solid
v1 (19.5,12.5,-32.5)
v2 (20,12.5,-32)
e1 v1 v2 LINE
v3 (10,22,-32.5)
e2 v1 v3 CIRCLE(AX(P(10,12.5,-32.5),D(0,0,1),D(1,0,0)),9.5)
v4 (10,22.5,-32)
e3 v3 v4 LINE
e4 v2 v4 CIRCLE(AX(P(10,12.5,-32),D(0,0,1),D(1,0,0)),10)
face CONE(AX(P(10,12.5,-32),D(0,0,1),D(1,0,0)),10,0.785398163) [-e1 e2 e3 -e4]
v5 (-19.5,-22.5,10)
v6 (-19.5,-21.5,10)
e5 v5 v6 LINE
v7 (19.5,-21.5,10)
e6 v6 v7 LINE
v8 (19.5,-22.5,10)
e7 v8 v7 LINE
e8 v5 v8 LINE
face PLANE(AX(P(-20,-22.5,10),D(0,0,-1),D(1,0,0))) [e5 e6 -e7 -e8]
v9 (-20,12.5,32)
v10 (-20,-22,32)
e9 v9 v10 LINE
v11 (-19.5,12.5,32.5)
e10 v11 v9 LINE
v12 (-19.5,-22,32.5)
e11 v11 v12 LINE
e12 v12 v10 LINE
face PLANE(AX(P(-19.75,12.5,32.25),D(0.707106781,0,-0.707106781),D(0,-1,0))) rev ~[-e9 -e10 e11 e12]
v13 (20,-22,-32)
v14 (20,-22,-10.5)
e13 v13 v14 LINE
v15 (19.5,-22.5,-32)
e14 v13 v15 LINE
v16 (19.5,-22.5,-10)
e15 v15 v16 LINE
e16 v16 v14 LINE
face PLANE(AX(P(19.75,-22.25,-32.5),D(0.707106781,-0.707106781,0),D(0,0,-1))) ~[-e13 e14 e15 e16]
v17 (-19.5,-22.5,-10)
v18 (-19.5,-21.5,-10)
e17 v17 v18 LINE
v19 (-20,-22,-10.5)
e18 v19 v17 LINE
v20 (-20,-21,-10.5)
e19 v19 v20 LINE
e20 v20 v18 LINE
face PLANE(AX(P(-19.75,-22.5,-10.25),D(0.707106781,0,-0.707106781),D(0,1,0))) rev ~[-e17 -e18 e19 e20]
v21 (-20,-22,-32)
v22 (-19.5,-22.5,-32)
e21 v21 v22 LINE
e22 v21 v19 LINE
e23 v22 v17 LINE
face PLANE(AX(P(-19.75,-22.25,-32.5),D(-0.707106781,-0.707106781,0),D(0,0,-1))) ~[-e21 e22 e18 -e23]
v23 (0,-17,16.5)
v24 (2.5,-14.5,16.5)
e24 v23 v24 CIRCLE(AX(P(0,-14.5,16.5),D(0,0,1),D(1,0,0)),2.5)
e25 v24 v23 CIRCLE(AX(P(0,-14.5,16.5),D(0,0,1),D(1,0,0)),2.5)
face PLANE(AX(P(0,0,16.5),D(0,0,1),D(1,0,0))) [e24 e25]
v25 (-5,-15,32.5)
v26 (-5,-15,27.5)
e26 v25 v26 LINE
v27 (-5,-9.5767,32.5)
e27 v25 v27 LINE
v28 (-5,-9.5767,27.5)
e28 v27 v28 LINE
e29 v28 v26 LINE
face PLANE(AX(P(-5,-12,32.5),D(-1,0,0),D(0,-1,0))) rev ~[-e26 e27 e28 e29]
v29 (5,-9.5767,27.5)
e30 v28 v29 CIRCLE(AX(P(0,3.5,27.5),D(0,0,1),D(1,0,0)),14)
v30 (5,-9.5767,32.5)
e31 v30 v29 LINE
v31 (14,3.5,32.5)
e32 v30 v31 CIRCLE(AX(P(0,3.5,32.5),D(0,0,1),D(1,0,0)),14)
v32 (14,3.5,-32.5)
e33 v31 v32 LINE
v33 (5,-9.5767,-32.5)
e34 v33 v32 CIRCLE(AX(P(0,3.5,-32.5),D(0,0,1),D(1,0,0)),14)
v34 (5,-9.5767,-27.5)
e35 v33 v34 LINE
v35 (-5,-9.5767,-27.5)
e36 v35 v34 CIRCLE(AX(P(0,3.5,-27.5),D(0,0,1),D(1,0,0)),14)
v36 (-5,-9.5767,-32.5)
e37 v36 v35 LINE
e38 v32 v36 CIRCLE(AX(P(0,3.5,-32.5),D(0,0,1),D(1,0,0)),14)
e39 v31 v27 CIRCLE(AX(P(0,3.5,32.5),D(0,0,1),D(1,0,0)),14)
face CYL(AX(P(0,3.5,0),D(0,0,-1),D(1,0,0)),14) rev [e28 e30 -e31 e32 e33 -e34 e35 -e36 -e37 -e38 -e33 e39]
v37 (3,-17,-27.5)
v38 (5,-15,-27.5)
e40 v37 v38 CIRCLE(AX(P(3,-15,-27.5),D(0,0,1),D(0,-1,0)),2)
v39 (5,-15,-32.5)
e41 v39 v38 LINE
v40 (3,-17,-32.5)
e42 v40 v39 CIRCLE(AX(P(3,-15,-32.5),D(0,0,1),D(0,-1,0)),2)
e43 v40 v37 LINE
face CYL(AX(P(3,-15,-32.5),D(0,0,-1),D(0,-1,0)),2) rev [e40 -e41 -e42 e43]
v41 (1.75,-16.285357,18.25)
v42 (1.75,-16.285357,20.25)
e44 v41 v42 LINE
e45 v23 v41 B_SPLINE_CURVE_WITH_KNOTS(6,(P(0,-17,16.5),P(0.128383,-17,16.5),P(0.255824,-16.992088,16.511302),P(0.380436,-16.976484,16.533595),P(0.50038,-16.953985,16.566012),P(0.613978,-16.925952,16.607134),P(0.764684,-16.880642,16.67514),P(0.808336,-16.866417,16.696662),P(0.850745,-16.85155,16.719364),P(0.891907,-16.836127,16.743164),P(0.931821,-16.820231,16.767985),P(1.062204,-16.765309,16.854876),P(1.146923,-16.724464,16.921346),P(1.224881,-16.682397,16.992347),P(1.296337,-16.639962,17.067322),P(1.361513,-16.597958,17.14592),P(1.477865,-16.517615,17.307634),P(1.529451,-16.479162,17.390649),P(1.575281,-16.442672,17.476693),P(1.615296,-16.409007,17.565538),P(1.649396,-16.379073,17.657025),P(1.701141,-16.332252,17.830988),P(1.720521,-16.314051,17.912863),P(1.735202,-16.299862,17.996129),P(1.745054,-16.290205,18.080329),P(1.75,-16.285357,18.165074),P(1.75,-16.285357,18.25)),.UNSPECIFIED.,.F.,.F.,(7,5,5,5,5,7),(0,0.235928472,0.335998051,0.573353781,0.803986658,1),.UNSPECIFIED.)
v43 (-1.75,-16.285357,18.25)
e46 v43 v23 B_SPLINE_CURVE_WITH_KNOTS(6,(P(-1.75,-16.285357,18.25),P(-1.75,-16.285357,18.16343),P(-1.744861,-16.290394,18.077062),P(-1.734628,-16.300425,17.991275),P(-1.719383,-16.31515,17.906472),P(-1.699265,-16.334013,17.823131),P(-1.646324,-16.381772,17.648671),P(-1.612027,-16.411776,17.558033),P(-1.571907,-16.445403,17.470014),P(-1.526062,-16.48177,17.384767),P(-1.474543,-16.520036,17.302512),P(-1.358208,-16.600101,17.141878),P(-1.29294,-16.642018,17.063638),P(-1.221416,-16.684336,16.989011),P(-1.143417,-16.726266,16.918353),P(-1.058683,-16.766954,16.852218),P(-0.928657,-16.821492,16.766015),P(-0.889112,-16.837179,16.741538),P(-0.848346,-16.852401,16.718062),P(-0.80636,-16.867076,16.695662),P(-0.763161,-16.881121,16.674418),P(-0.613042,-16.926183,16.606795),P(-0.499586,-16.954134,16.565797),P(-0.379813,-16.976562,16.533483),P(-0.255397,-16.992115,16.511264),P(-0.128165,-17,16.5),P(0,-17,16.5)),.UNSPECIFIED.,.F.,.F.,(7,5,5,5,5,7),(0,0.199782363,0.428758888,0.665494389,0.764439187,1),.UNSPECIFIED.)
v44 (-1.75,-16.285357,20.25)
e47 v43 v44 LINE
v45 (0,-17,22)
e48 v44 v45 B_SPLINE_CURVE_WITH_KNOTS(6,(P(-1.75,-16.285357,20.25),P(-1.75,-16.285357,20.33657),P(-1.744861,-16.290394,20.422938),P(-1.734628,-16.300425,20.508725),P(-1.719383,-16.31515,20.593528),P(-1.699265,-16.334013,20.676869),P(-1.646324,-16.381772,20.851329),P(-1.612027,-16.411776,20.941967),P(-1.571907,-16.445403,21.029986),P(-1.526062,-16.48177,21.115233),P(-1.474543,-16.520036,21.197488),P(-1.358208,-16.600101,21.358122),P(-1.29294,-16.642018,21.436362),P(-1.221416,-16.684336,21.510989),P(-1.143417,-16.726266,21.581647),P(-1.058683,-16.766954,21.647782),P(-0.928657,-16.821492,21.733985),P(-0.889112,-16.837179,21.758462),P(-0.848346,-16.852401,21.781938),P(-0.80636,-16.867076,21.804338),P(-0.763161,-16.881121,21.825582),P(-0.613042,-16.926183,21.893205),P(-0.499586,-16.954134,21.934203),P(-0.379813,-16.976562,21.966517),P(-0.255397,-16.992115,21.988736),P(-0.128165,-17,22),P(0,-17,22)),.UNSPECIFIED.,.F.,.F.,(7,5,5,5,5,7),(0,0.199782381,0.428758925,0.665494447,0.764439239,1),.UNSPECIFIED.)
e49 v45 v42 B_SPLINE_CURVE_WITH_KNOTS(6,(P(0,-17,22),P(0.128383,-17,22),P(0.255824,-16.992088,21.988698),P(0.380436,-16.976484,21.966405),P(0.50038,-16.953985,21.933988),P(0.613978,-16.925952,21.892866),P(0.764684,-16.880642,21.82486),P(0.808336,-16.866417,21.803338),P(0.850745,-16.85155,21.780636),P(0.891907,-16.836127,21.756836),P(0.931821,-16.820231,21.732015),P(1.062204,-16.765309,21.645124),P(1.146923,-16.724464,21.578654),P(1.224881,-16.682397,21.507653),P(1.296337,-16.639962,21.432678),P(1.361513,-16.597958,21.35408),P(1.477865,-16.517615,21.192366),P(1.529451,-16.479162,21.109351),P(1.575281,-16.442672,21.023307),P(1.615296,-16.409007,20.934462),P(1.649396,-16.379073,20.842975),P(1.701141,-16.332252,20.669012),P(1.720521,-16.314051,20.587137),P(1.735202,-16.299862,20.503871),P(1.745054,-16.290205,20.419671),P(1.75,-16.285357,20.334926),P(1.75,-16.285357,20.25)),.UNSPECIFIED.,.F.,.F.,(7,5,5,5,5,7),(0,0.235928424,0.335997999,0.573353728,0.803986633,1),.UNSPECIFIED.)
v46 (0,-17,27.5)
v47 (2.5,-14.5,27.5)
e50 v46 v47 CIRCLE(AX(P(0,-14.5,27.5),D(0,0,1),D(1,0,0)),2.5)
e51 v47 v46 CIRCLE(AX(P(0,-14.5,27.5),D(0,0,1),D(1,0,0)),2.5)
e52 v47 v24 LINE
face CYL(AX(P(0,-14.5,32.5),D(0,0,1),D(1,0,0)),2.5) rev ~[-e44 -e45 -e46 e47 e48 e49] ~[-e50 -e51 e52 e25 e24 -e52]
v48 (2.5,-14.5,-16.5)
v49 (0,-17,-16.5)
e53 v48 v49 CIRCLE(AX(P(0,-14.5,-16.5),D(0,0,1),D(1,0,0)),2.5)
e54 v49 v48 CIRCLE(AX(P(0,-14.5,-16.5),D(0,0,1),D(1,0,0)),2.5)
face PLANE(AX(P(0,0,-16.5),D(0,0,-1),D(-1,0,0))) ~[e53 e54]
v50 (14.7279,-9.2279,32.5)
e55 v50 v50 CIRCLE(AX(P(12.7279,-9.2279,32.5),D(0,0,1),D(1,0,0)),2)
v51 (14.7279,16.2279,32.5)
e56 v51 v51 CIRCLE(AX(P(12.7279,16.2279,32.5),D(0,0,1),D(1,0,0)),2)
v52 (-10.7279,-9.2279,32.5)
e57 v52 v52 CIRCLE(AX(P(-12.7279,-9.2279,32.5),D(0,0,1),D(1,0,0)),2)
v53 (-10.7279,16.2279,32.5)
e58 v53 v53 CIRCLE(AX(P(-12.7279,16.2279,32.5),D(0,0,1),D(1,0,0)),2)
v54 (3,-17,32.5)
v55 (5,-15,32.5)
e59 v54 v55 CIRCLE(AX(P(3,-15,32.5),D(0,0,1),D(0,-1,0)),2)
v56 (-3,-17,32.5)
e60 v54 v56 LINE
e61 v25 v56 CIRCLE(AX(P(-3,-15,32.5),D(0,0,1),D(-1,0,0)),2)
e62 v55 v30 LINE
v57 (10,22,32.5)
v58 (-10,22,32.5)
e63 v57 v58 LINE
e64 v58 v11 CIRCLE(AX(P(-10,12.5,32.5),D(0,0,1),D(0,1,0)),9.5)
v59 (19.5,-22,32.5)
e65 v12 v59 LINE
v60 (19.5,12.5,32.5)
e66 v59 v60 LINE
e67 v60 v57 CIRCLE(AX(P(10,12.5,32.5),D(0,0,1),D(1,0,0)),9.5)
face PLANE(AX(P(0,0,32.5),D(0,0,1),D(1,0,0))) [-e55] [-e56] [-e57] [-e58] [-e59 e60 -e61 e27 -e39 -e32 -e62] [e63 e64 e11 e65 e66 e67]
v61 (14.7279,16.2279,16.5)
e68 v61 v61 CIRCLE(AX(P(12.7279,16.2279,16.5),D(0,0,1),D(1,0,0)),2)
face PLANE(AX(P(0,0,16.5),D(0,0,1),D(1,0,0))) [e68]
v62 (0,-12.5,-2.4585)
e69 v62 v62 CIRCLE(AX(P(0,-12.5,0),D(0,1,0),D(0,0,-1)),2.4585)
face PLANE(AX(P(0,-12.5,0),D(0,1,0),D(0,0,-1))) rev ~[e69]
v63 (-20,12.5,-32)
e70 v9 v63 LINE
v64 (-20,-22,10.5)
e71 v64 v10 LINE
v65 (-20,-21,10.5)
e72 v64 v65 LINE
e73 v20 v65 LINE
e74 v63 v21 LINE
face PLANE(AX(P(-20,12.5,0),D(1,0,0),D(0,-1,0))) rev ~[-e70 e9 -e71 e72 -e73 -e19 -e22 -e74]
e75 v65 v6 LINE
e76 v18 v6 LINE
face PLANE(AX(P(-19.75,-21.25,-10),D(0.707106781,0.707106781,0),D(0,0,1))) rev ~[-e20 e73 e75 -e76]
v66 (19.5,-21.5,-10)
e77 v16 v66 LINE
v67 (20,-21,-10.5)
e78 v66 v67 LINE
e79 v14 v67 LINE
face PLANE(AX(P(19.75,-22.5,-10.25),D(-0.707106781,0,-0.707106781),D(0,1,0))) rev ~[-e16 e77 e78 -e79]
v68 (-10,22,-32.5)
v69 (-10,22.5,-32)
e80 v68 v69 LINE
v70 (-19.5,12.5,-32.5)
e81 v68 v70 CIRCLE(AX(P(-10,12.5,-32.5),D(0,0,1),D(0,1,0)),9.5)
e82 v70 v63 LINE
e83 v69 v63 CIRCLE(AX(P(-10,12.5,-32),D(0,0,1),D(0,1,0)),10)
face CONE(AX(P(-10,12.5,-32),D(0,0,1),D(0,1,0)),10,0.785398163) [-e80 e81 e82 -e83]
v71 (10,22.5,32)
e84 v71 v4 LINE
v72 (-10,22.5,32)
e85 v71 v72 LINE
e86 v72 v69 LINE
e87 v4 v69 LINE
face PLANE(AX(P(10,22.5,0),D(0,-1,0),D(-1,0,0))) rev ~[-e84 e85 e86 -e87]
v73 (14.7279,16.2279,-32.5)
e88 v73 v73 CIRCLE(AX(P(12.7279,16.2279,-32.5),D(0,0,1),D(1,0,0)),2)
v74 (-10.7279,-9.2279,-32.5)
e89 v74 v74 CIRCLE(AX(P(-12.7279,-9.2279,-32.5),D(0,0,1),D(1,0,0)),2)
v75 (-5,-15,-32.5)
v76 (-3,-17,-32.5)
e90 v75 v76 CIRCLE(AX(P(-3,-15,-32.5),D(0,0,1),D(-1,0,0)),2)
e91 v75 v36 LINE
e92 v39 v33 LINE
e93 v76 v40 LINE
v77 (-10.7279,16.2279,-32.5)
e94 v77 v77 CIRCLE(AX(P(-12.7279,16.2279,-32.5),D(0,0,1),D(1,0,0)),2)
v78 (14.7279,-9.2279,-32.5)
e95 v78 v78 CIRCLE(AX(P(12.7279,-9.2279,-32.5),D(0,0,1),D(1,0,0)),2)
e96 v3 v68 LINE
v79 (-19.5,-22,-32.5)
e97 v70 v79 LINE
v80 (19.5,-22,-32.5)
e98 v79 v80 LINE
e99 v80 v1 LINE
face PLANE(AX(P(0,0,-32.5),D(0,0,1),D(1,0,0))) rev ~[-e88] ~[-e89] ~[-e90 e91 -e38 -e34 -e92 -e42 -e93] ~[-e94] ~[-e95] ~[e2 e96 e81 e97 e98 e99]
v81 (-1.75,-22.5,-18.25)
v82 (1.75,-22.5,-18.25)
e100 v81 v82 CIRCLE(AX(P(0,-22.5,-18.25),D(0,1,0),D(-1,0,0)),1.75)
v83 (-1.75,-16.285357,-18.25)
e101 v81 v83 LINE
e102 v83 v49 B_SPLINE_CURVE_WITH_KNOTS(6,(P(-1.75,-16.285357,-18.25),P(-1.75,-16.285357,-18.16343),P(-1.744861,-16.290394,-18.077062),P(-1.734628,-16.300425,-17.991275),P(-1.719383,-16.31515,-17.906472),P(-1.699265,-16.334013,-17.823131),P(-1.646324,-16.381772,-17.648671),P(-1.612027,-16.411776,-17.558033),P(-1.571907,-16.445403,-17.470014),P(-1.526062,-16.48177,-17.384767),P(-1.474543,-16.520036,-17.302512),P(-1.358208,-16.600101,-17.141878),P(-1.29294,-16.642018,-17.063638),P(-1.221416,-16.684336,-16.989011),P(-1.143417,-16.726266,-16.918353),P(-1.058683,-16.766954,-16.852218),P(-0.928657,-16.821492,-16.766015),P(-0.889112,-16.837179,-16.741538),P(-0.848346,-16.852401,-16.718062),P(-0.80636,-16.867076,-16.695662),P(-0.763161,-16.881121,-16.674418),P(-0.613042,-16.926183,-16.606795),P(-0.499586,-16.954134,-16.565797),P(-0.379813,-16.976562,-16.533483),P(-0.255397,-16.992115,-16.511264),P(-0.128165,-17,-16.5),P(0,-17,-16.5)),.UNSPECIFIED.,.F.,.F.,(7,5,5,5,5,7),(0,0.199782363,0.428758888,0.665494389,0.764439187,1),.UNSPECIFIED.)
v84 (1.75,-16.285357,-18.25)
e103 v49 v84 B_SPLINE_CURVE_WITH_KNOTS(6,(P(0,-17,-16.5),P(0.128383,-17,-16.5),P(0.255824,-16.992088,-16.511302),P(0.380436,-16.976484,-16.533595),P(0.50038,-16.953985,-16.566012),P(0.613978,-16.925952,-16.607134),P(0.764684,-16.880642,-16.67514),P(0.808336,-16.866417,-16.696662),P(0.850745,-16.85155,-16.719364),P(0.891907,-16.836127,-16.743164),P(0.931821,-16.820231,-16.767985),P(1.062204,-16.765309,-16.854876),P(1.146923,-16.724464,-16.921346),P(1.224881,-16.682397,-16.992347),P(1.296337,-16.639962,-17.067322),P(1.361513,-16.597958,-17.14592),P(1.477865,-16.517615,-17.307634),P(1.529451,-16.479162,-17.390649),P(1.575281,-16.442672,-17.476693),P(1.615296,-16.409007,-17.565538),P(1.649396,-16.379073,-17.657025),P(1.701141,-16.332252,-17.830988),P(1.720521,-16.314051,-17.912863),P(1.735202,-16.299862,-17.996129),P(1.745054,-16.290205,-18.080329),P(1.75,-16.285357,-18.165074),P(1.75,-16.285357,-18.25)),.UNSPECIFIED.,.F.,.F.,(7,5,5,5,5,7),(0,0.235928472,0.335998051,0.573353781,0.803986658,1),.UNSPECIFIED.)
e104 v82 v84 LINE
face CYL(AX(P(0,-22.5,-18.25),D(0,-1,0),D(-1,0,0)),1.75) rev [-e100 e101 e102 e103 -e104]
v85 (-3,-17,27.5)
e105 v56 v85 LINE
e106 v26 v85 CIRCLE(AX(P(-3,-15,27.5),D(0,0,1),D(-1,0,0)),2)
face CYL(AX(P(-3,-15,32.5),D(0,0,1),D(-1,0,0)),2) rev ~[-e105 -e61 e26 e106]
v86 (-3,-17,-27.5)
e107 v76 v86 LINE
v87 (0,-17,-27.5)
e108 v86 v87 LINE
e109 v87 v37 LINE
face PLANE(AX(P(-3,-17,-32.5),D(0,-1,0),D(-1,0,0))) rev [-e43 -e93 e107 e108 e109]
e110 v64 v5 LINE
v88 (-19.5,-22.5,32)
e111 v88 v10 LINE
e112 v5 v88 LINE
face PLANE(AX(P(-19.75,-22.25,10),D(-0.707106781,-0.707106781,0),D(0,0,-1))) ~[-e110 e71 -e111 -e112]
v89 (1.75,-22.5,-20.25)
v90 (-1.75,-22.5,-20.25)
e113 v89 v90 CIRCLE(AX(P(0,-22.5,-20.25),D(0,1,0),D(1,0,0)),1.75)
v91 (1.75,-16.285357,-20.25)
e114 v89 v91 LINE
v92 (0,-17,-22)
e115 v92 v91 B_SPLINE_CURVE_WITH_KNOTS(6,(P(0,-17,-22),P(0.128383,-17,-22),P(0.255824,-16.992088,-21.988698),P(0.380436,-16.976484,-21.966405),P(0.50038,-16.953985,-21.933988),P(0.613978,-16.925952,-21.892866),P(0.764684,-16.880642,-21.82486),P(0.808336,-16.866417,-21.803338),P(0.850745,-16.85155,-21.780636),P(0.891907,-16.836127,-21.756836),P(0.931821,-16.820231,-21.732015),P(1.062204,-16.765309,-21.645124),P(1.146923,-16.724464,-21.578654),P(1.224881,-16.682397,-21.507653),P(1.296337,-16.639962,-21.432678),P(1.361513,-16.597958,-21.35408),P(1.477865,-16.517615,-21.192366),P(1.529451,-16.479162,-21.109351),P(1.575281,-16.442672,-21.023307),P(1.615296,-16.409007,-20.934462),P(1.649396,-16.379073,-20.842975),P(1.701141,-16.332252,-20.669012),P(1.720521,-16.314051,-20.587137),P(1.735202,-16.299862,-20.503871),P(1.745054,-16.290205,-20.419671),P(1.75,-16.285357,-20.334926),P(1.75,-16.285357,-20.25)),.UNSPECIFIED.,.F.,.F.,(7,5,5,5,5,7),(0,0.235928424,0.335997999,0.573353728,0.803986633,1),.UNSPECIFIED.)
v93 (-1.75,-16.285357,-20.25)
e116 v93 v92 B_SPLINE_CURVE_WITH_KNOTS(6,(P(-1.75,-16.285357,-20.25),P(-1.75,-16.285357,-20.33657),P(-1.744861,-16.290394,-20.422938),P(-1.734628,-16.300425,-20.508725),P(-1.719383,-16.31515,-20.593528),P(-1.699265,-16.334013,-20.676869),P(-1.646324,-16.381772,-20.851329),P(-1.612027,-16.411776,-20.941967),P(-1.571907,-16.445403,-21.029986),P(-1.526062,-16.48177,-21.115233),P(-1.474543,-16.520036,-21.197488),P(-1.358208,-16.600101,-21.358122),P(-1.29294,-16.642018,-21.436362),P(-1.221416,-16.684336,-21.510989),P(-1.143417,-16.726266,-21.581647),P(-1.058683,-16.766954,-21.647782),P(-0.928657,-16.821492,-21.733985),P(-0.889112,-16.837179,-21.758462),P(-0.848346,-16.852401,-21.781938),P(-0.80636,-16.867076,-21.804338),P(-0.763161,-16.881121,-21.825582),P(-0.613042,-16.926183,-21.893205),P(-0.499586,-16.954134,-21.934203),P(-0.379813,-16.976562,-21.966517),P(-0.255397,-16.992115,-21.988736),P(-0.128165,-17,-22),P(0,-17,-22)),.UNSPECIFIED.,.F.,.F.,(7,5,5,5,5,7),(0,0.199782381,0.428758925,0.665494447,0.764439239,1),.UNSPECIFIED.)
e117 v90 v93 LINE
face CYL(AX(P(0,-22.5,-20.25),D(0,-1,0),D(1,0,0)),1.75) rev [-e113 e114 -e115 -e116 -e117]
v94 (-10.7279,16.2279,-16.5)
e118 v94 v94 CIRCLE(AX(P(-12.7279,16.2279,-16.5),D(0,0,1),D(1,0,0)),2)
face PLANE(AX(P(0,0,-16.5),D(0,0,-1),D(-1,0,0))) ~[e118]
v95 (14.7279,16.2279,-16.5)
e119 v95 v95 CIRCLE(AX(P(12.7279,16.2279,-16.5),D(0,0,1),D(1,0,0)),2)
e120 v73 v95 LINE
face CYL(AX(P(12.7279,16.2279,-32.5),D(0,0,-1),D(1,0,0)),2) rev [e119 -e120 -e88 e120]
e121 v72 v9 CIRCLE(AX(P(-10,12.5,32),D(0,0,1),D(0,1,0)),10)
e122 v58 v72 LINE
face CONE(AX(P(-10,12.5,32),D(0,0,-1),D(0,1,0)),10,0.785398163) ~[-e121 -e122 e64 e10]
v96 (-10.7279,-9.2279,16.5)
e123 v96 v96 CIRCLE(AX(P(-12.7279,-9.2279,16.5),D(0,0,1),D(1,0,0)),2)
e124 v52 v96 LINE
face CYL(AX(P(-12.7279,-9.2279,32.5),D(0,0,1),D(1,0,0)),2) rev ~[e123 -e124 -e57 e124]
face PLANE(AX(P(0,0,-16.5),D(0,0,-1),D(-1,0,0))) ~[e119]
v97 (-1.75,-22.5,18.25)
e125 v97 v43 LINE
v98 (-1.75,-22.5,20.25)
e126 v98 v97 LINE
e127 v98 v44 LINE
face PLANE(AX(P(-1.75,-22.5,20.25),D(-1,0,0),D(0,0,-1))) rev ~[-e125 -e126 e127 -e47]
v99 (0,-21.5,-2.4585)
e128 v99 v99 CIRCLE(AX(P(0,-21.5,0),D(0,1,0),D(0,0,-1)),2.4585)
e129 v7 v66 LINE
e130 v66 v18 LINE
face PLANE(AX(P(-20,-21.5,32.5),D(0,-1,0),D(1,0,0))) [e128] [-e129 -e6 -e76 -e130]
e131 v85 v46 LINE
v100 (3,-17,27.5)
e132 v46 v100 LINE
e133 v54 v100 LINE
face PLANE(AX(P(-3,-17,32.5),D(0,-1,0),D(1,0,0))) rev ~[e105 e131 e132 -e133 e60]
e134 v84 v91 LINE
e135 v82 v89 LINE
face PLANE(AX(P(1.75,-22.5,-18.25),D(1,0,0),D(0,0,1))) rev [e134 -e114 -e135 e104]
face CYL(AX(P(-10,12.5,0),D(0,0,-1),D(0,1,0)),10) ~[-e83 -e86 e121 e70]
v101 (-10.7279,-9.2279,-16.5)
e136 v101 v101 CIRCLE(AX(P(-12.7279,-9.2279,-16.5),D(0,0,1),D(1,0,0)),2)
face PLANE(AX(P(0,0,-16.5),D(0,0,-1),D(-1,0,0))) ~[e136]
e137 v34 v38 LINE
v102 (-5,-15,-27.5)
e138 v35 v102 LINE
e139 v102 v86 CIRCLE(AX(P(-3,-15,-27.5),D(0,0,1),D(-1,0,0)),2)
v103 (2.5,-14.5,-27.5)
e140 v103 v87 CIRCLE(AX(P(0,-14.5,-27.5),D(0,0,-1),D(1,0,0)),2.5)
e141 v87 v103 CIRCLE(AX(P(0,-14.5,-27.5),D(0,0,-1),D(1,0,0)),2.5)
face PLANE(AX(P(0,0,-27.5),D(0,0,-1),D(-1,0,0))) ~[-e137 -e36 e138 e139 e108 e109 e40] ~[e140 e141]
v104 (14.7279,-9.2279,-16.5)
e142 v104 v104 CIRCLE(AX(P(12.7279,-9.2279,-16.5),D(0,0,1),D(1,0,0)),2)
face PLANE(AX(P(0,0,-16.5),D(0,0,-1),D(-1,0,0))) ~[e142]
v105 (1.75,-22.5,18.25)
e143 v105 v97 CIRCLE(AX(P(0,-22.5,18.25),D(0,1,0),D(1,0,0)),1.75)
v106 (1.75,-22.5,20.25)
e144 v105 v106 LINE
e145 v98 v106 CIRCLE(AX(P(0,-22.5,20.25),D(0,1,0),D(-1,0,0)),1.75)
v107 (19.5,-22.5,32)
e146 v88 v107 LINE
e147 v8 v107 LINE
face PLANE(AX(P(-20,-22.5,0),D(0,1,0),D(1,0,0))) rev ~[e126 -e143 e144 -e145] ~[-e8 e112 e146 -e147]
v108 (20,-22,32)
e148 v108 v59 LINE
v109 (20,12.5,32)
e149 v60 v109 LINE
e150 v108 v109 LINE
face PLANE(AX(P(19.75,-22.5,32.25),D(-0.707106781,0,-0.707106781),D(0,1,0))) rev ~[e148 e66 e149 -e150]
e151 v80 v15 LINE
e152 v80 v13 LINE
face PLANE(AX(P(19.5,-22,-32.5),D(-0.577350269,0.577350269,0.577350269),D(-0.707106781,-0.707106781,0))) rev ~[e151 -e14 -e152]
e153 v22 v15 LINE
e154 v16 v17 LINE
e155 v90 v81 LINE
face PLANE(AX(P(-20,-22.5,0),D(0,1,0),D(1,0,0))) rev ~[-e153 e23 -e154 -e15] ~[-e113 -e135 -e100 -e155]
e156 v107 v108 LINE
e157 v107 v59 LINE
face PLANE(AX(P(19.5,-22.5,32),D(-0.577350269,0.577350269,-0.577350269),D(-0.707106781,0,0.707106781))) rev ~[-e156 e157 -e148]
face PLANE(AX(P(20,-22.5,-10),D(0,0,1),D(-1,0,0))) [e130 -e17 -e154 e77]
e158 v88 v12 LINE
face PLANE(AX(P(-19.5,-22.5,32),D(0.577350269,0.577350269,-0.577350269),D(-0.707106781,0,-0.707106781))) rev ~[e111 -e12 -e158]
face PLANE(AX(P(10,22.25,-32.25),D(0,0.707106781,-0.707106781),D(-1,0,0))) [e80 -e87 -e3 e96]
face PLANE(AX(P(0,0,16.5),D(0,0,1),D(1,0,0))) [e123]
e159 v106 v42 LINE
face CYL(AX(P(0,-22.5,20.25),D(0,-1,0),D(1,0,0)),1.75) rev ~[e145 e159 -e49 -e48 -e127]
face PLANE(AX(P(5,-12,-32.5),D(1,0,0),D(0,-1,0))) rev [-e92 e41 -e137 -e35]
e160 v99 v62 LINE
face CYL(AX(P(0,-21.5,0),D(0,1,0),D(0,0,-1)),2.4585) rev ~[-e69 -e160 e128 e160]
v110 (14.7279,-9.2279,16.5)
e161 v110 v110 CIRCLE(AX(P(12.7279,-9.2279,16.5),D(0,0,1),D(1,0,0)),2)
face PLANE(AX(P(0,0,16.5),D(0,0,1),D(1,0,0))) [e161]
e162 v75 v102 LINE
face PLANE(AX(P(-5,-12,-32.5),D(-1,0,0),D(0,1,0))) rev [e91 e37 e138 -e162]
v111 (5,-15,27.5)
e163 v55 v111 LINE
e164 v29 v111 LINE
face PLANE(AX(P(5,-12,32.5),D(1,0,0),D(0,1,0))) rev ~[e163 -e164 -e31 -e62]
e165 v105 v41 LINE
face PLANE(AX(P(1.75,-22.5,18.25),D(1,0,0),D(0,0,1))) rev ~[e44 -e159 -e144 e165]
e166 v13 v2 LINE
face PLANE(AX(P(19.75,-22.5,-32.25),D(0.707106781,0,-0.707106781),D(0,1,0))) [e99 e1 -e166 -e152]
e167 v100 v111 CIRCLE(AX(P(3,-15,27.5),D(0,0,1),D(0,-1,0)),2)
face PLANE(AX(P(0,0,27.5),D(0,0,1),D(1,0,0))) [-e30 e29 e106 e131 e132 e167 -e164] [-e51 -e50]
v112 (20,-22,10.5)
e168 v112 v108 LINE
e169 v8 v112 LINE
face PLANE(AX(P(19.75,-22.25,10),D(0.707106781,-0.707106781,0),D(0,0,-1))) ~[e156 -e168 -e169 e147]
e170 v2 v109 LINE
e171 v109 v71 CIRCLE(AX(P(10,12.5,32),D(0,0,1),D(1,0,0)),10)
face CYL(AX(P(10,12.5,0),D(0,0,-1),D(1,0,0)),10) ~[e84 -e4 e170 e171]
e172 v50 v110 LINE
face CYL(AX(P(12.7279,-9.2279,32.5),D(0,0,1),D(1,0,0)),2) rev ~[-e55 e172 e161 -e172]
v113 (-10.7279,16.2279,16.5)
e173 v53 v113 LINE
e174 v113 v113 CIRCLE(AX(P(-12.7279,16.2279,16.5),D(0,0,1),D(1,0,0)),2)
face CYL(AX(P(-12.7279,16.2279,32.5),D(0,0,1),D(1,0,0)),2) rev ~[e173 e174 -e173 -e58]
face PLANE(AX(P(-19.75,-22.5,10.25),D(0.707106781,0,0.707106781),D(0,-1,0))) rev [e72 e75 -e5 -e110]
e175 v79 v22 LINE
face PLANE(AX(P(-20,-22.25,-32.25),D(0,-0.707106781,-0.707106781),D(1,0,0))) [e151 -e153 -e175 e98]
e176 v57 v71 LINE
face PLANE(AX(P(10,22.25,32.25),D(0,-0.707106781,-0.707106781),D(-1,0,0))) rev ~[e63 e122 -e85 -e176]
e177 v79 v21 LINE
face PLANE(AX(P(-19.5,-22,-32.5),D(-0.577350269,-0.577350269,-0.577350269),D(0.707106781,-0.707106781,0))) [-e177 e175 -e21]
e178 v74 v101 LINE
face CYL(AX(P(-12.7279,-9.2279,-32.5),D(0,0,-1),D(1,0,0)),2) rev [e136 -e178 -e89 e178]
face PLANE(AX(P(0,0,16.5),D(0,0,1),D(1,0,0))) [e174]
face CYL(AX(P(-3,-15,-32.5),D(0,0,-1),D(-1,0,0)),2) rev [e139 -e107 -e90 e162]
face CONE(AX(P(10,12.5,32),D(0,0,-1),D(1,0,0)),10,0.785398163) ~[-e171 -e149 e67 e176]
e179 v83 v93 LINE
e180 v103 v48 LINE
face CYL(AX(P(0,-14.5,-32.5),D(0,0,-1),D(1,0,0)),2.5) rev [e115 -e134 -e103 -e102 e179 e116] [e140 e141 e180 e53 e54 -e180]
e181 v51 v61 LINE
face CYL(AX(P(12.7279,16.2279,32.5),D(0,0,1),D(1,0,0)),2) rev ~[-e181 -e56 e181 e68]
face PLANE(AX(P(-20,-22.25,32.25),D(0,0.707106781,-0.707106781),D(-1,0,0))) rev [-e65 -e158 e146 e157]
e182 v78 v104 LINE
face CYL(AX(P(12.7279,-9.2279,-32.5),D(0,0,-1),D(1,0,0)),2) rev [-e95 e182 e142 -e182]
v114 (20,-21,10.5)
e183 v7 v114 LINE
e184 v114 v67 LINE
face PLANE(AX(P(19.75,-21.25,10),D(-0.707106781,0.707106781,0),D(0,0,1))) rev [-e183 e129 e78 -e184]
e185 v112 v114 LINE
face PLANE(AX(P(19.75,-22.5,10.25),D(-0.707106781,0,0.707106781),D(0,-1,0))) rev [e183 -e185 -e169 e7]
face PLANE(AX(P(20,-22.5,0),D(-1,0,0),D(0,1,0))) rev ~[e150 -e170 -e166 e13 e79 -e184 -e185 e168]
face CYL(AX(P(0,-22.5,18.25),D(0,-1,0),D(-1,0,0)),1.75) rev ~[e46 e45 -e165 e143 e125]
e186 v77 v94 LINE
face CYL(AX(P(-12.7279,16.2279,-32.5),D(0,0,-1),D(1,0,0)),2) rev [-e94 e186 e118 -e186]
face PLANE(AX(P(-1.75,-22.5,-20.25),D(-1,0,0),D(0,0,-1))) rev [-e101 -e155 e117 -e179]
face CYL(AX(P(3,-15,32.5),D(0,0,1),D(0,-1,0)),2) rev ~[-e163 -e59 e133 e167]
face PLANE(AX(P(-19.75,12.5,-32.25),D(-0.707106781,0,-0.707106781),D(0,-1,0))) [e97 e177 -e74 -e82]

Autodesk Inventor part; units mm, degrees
ref_plane "YZ Plane" through (0, 0, 0) normal (1, 0, 0) x (0, 1, 0)
ref_plane "XZ Plane" through (0, 0, 0) normal (0, 1, 0) x (-1, 0, 0)
ref_plane "XY Plane" through (0, 0, 0) normal (0, 0, 1) x (1, 0, 0)
sketch "Skizze1" plane through (0, 0, 0) normal (0, 0, 1) x (1, 0, 0)
  circle A0 centre (0, 3.5) radius 14
  line L0 (-20, -22.5) -> (20, -22.5)
  line L1 (20, -22.5) -> (20, 12.5)
  line L2 (10, 22.5) -> (-10, 22.5)
  line L3 (-20, 12.5) -> (-20, -22.5)
  arc A1 (-10, 22.5) -> (-20, 12.5) centre (-10, 12.5) ccw
  arc A2 (20, 12.5) -> (10, 22.5) centre (10, 12.5) ccw
  dimension "d0" = 28
  dimension "d3" = 10
  dimension "d13" = 19
extrude "Extrusion1" add sketch "Skizze1" along normal mid plane 65
sketch "Skizze2" plane through (0, 0, 32.5) normal (0, 0, 1) x (1, 0, 0)
  circle A0 centre (0, 3.5) radius 18 construction
  circle A1 centre (0, -14.5) radius 2.5
  line L0 (-18, -14.5) -> (18, -14.5)
  line L1 (18, -14.5) -> (18, 21.5)
  line L2 (18, 21.5) -> (-18, 21.5)
  line L3 (-18, 21.5) -> (-18, -14.5)
  line L4 (-18, -14.5) -> (18, 21.5) construction
  line L5 (18, -14.5) -> (-18, 21.5) construction
  circle A2 centre (12.7279, 16.2279) radius 2
  circle A3 centre (12.7279, -9.2279) radius 2
  circle A4 centre (-12.7279, -9.2279) radius 2
  circle A5 centre (-12.7279, 16.2279) radius 2
  circle A6 centre (0, 3.5) radius 14
  dimension "d6" = 36
  dimension "d7" = 5
  dimension "d8" = 4
  dimension "d9" = 4
  dimension "d10" = 4
  dimension "d11" = 4
extrude "Extrusion2" cut sketch "Skizze2" against normal blind 16 contours L0 A1 | A1 L0 | A2 | A3 | A4 | A5
sketch "Skizze3" plane through (0, 0, 32.5) normal (0, 0, 1) x (1, 0, 0)
  line L0 (-3, -17) -> (3, -17)
  line L1 (5, -15) -> (5, -12)
  line L2 (5, -12) -> (-5, -12)
  line L3 (-5, -12) -> (-5, -15)
  circle A0 centre (0, -14.5) radius 2.5 projected
  line L4 (-5, -17) -> (5, -12) construction
  line L5 (5, -17) -> (-5, -12) construction
  circle A1 centre (0, 3.5) radius 14 projected
  line L6 (-5, -12) -> (5, -12)
  line L7 (5, -12) -> (5, -9.5767)
  line L8 (5, -9.5767) -> (-5, -9.5767)
  line L9 (-5, -9.5767) -> (-5, -12)
  arc A2 (-5, -15) -> (-3, -17) centre (-3, -15) ccw
  arc A3 (3, -17) -> (5, -15) centre (3, -15) ccw
  point P0 (0, 0)
  dimension "d16" = 10
  dimension "d17" = 2
extrude "Extrusion3" cut sketch "Skizze3" against normal blind 5 contours A2 L3 L2 A0 L0 | A0 L2 L1 A3 L0 | A0 | L2 L9 A1 L7
sketch "Skizze4" plane through (-20, -22.5, 32.5) normal (0, -1, 0) x (1, 0, 0)
  line L0 (17.5, -16) -> (22.5, -16) projected
  line L1 (17.5, -5) -> (17.5, -16) projected
  line L2 (22.5, -5) -> (22.5, -16) projected
  line L3 (17.5, -16) -> (22.5, -16)
  line L4 (22.5, -16) -> (22.5, -10.5)
  line L5 (22.5, -10.5) -> (17.5, -10.5)
  line L6 (17.5, -10.5) -> (17.5, -16)
  line L7 (20, -16) -> (20, -10.5) construction
  line L8 (21.75, -14.25) -> (21.75, -12.25)
  line L9 (18.25, -12.25) -> (18.25, -14.25)
  arc A0 (18.25, -14.25) -> (21.75, -14.25) centre (20, -14.25) ccw
  arc A1 (21.75, -12.25) -> (18.25, -12.25) centre (20, -12.25) ccw
  point P0 (20, -32.5)
  point P1 (20, -13.25)
  dimension "d20" = 5.5
  dimension "d21" = 3.5
extrude "Extrusion4" cut sketch "Skizze4" against normal up to surface contours A0 L9 A1 L8
sketch "Skizze5" plane through (-20, -22.5, 32.5) normal (0, -1, 0) x (1, 0, 0)
  line L0 (40, 0) -> (40, -65) projected
  line L1 (0, -22.5) -> (40, -22.5)
  line L2 (40, -22.5) -> (40, -42.5)
  line L3 (40, -42.5) -> (0, -42.5)
  line L4 (0, -42.5) -> (0, -22.5)
  line L5 (0, -22.5) -> (40, -42.5) construction
  line L6 (40, -22.5) -> (0, -42.5) construction
  point P0 (20, -32.5)
  dimension "d24" = 20
extrude "Extrusion5" cut sketch "Skizze5" against normal blind 1
sketch "Skizze6" plane through (-20, -21.5, 32.5) normal (0, -1, 0) x (1, 0, 0)
  point P0 (20, -32.5)
hole "Bohrung1" at (0, -21.5, 0) direction (0, 1, 0) diameter 4.917 depth 9 thread size "M6x1" class "6H" standard "ISO Metric profile"
ref_plane "Arbeitsebene1" through (0, 0, 0) normal (0, 0, 1) x (1, 0, 0)
mirror "Spiegeln1" about plane through (0, 0, 0) normal (0, 0, 1) of "Extrusion3", "Extrusion2", "Extrusion4"
chamfer "Fasen1" distance 0.5 angle 45 22 edges at (20, -5, 32.5) (17.0711, 19.5711, 32.5) (0, 22.5, 32.5) (-17.0711, 19.5711, 32.5) (-20, -5, 32.5) (20, -22.5, 21.25) (20, -21.5, 0) (20, -22.5, -21.25) (0, -22.5, 32.5) (-20, -22.5, 21.25) (-20, -22.5, -21.25) (17.0711, 19.5711, -32.5) (20, -5, -32.5) (0, 22.5, -32.5) (-17.0711, 19.5711, -32.5) (-20, -5, -32.5) (-20, -21.5, 0) (-20, -22, 10) (-20, -22, -10) (20, -22, -10) (20, -22, 10) (0, -22.5, -32.5)
properties part number "sf_Cylinder_1"
